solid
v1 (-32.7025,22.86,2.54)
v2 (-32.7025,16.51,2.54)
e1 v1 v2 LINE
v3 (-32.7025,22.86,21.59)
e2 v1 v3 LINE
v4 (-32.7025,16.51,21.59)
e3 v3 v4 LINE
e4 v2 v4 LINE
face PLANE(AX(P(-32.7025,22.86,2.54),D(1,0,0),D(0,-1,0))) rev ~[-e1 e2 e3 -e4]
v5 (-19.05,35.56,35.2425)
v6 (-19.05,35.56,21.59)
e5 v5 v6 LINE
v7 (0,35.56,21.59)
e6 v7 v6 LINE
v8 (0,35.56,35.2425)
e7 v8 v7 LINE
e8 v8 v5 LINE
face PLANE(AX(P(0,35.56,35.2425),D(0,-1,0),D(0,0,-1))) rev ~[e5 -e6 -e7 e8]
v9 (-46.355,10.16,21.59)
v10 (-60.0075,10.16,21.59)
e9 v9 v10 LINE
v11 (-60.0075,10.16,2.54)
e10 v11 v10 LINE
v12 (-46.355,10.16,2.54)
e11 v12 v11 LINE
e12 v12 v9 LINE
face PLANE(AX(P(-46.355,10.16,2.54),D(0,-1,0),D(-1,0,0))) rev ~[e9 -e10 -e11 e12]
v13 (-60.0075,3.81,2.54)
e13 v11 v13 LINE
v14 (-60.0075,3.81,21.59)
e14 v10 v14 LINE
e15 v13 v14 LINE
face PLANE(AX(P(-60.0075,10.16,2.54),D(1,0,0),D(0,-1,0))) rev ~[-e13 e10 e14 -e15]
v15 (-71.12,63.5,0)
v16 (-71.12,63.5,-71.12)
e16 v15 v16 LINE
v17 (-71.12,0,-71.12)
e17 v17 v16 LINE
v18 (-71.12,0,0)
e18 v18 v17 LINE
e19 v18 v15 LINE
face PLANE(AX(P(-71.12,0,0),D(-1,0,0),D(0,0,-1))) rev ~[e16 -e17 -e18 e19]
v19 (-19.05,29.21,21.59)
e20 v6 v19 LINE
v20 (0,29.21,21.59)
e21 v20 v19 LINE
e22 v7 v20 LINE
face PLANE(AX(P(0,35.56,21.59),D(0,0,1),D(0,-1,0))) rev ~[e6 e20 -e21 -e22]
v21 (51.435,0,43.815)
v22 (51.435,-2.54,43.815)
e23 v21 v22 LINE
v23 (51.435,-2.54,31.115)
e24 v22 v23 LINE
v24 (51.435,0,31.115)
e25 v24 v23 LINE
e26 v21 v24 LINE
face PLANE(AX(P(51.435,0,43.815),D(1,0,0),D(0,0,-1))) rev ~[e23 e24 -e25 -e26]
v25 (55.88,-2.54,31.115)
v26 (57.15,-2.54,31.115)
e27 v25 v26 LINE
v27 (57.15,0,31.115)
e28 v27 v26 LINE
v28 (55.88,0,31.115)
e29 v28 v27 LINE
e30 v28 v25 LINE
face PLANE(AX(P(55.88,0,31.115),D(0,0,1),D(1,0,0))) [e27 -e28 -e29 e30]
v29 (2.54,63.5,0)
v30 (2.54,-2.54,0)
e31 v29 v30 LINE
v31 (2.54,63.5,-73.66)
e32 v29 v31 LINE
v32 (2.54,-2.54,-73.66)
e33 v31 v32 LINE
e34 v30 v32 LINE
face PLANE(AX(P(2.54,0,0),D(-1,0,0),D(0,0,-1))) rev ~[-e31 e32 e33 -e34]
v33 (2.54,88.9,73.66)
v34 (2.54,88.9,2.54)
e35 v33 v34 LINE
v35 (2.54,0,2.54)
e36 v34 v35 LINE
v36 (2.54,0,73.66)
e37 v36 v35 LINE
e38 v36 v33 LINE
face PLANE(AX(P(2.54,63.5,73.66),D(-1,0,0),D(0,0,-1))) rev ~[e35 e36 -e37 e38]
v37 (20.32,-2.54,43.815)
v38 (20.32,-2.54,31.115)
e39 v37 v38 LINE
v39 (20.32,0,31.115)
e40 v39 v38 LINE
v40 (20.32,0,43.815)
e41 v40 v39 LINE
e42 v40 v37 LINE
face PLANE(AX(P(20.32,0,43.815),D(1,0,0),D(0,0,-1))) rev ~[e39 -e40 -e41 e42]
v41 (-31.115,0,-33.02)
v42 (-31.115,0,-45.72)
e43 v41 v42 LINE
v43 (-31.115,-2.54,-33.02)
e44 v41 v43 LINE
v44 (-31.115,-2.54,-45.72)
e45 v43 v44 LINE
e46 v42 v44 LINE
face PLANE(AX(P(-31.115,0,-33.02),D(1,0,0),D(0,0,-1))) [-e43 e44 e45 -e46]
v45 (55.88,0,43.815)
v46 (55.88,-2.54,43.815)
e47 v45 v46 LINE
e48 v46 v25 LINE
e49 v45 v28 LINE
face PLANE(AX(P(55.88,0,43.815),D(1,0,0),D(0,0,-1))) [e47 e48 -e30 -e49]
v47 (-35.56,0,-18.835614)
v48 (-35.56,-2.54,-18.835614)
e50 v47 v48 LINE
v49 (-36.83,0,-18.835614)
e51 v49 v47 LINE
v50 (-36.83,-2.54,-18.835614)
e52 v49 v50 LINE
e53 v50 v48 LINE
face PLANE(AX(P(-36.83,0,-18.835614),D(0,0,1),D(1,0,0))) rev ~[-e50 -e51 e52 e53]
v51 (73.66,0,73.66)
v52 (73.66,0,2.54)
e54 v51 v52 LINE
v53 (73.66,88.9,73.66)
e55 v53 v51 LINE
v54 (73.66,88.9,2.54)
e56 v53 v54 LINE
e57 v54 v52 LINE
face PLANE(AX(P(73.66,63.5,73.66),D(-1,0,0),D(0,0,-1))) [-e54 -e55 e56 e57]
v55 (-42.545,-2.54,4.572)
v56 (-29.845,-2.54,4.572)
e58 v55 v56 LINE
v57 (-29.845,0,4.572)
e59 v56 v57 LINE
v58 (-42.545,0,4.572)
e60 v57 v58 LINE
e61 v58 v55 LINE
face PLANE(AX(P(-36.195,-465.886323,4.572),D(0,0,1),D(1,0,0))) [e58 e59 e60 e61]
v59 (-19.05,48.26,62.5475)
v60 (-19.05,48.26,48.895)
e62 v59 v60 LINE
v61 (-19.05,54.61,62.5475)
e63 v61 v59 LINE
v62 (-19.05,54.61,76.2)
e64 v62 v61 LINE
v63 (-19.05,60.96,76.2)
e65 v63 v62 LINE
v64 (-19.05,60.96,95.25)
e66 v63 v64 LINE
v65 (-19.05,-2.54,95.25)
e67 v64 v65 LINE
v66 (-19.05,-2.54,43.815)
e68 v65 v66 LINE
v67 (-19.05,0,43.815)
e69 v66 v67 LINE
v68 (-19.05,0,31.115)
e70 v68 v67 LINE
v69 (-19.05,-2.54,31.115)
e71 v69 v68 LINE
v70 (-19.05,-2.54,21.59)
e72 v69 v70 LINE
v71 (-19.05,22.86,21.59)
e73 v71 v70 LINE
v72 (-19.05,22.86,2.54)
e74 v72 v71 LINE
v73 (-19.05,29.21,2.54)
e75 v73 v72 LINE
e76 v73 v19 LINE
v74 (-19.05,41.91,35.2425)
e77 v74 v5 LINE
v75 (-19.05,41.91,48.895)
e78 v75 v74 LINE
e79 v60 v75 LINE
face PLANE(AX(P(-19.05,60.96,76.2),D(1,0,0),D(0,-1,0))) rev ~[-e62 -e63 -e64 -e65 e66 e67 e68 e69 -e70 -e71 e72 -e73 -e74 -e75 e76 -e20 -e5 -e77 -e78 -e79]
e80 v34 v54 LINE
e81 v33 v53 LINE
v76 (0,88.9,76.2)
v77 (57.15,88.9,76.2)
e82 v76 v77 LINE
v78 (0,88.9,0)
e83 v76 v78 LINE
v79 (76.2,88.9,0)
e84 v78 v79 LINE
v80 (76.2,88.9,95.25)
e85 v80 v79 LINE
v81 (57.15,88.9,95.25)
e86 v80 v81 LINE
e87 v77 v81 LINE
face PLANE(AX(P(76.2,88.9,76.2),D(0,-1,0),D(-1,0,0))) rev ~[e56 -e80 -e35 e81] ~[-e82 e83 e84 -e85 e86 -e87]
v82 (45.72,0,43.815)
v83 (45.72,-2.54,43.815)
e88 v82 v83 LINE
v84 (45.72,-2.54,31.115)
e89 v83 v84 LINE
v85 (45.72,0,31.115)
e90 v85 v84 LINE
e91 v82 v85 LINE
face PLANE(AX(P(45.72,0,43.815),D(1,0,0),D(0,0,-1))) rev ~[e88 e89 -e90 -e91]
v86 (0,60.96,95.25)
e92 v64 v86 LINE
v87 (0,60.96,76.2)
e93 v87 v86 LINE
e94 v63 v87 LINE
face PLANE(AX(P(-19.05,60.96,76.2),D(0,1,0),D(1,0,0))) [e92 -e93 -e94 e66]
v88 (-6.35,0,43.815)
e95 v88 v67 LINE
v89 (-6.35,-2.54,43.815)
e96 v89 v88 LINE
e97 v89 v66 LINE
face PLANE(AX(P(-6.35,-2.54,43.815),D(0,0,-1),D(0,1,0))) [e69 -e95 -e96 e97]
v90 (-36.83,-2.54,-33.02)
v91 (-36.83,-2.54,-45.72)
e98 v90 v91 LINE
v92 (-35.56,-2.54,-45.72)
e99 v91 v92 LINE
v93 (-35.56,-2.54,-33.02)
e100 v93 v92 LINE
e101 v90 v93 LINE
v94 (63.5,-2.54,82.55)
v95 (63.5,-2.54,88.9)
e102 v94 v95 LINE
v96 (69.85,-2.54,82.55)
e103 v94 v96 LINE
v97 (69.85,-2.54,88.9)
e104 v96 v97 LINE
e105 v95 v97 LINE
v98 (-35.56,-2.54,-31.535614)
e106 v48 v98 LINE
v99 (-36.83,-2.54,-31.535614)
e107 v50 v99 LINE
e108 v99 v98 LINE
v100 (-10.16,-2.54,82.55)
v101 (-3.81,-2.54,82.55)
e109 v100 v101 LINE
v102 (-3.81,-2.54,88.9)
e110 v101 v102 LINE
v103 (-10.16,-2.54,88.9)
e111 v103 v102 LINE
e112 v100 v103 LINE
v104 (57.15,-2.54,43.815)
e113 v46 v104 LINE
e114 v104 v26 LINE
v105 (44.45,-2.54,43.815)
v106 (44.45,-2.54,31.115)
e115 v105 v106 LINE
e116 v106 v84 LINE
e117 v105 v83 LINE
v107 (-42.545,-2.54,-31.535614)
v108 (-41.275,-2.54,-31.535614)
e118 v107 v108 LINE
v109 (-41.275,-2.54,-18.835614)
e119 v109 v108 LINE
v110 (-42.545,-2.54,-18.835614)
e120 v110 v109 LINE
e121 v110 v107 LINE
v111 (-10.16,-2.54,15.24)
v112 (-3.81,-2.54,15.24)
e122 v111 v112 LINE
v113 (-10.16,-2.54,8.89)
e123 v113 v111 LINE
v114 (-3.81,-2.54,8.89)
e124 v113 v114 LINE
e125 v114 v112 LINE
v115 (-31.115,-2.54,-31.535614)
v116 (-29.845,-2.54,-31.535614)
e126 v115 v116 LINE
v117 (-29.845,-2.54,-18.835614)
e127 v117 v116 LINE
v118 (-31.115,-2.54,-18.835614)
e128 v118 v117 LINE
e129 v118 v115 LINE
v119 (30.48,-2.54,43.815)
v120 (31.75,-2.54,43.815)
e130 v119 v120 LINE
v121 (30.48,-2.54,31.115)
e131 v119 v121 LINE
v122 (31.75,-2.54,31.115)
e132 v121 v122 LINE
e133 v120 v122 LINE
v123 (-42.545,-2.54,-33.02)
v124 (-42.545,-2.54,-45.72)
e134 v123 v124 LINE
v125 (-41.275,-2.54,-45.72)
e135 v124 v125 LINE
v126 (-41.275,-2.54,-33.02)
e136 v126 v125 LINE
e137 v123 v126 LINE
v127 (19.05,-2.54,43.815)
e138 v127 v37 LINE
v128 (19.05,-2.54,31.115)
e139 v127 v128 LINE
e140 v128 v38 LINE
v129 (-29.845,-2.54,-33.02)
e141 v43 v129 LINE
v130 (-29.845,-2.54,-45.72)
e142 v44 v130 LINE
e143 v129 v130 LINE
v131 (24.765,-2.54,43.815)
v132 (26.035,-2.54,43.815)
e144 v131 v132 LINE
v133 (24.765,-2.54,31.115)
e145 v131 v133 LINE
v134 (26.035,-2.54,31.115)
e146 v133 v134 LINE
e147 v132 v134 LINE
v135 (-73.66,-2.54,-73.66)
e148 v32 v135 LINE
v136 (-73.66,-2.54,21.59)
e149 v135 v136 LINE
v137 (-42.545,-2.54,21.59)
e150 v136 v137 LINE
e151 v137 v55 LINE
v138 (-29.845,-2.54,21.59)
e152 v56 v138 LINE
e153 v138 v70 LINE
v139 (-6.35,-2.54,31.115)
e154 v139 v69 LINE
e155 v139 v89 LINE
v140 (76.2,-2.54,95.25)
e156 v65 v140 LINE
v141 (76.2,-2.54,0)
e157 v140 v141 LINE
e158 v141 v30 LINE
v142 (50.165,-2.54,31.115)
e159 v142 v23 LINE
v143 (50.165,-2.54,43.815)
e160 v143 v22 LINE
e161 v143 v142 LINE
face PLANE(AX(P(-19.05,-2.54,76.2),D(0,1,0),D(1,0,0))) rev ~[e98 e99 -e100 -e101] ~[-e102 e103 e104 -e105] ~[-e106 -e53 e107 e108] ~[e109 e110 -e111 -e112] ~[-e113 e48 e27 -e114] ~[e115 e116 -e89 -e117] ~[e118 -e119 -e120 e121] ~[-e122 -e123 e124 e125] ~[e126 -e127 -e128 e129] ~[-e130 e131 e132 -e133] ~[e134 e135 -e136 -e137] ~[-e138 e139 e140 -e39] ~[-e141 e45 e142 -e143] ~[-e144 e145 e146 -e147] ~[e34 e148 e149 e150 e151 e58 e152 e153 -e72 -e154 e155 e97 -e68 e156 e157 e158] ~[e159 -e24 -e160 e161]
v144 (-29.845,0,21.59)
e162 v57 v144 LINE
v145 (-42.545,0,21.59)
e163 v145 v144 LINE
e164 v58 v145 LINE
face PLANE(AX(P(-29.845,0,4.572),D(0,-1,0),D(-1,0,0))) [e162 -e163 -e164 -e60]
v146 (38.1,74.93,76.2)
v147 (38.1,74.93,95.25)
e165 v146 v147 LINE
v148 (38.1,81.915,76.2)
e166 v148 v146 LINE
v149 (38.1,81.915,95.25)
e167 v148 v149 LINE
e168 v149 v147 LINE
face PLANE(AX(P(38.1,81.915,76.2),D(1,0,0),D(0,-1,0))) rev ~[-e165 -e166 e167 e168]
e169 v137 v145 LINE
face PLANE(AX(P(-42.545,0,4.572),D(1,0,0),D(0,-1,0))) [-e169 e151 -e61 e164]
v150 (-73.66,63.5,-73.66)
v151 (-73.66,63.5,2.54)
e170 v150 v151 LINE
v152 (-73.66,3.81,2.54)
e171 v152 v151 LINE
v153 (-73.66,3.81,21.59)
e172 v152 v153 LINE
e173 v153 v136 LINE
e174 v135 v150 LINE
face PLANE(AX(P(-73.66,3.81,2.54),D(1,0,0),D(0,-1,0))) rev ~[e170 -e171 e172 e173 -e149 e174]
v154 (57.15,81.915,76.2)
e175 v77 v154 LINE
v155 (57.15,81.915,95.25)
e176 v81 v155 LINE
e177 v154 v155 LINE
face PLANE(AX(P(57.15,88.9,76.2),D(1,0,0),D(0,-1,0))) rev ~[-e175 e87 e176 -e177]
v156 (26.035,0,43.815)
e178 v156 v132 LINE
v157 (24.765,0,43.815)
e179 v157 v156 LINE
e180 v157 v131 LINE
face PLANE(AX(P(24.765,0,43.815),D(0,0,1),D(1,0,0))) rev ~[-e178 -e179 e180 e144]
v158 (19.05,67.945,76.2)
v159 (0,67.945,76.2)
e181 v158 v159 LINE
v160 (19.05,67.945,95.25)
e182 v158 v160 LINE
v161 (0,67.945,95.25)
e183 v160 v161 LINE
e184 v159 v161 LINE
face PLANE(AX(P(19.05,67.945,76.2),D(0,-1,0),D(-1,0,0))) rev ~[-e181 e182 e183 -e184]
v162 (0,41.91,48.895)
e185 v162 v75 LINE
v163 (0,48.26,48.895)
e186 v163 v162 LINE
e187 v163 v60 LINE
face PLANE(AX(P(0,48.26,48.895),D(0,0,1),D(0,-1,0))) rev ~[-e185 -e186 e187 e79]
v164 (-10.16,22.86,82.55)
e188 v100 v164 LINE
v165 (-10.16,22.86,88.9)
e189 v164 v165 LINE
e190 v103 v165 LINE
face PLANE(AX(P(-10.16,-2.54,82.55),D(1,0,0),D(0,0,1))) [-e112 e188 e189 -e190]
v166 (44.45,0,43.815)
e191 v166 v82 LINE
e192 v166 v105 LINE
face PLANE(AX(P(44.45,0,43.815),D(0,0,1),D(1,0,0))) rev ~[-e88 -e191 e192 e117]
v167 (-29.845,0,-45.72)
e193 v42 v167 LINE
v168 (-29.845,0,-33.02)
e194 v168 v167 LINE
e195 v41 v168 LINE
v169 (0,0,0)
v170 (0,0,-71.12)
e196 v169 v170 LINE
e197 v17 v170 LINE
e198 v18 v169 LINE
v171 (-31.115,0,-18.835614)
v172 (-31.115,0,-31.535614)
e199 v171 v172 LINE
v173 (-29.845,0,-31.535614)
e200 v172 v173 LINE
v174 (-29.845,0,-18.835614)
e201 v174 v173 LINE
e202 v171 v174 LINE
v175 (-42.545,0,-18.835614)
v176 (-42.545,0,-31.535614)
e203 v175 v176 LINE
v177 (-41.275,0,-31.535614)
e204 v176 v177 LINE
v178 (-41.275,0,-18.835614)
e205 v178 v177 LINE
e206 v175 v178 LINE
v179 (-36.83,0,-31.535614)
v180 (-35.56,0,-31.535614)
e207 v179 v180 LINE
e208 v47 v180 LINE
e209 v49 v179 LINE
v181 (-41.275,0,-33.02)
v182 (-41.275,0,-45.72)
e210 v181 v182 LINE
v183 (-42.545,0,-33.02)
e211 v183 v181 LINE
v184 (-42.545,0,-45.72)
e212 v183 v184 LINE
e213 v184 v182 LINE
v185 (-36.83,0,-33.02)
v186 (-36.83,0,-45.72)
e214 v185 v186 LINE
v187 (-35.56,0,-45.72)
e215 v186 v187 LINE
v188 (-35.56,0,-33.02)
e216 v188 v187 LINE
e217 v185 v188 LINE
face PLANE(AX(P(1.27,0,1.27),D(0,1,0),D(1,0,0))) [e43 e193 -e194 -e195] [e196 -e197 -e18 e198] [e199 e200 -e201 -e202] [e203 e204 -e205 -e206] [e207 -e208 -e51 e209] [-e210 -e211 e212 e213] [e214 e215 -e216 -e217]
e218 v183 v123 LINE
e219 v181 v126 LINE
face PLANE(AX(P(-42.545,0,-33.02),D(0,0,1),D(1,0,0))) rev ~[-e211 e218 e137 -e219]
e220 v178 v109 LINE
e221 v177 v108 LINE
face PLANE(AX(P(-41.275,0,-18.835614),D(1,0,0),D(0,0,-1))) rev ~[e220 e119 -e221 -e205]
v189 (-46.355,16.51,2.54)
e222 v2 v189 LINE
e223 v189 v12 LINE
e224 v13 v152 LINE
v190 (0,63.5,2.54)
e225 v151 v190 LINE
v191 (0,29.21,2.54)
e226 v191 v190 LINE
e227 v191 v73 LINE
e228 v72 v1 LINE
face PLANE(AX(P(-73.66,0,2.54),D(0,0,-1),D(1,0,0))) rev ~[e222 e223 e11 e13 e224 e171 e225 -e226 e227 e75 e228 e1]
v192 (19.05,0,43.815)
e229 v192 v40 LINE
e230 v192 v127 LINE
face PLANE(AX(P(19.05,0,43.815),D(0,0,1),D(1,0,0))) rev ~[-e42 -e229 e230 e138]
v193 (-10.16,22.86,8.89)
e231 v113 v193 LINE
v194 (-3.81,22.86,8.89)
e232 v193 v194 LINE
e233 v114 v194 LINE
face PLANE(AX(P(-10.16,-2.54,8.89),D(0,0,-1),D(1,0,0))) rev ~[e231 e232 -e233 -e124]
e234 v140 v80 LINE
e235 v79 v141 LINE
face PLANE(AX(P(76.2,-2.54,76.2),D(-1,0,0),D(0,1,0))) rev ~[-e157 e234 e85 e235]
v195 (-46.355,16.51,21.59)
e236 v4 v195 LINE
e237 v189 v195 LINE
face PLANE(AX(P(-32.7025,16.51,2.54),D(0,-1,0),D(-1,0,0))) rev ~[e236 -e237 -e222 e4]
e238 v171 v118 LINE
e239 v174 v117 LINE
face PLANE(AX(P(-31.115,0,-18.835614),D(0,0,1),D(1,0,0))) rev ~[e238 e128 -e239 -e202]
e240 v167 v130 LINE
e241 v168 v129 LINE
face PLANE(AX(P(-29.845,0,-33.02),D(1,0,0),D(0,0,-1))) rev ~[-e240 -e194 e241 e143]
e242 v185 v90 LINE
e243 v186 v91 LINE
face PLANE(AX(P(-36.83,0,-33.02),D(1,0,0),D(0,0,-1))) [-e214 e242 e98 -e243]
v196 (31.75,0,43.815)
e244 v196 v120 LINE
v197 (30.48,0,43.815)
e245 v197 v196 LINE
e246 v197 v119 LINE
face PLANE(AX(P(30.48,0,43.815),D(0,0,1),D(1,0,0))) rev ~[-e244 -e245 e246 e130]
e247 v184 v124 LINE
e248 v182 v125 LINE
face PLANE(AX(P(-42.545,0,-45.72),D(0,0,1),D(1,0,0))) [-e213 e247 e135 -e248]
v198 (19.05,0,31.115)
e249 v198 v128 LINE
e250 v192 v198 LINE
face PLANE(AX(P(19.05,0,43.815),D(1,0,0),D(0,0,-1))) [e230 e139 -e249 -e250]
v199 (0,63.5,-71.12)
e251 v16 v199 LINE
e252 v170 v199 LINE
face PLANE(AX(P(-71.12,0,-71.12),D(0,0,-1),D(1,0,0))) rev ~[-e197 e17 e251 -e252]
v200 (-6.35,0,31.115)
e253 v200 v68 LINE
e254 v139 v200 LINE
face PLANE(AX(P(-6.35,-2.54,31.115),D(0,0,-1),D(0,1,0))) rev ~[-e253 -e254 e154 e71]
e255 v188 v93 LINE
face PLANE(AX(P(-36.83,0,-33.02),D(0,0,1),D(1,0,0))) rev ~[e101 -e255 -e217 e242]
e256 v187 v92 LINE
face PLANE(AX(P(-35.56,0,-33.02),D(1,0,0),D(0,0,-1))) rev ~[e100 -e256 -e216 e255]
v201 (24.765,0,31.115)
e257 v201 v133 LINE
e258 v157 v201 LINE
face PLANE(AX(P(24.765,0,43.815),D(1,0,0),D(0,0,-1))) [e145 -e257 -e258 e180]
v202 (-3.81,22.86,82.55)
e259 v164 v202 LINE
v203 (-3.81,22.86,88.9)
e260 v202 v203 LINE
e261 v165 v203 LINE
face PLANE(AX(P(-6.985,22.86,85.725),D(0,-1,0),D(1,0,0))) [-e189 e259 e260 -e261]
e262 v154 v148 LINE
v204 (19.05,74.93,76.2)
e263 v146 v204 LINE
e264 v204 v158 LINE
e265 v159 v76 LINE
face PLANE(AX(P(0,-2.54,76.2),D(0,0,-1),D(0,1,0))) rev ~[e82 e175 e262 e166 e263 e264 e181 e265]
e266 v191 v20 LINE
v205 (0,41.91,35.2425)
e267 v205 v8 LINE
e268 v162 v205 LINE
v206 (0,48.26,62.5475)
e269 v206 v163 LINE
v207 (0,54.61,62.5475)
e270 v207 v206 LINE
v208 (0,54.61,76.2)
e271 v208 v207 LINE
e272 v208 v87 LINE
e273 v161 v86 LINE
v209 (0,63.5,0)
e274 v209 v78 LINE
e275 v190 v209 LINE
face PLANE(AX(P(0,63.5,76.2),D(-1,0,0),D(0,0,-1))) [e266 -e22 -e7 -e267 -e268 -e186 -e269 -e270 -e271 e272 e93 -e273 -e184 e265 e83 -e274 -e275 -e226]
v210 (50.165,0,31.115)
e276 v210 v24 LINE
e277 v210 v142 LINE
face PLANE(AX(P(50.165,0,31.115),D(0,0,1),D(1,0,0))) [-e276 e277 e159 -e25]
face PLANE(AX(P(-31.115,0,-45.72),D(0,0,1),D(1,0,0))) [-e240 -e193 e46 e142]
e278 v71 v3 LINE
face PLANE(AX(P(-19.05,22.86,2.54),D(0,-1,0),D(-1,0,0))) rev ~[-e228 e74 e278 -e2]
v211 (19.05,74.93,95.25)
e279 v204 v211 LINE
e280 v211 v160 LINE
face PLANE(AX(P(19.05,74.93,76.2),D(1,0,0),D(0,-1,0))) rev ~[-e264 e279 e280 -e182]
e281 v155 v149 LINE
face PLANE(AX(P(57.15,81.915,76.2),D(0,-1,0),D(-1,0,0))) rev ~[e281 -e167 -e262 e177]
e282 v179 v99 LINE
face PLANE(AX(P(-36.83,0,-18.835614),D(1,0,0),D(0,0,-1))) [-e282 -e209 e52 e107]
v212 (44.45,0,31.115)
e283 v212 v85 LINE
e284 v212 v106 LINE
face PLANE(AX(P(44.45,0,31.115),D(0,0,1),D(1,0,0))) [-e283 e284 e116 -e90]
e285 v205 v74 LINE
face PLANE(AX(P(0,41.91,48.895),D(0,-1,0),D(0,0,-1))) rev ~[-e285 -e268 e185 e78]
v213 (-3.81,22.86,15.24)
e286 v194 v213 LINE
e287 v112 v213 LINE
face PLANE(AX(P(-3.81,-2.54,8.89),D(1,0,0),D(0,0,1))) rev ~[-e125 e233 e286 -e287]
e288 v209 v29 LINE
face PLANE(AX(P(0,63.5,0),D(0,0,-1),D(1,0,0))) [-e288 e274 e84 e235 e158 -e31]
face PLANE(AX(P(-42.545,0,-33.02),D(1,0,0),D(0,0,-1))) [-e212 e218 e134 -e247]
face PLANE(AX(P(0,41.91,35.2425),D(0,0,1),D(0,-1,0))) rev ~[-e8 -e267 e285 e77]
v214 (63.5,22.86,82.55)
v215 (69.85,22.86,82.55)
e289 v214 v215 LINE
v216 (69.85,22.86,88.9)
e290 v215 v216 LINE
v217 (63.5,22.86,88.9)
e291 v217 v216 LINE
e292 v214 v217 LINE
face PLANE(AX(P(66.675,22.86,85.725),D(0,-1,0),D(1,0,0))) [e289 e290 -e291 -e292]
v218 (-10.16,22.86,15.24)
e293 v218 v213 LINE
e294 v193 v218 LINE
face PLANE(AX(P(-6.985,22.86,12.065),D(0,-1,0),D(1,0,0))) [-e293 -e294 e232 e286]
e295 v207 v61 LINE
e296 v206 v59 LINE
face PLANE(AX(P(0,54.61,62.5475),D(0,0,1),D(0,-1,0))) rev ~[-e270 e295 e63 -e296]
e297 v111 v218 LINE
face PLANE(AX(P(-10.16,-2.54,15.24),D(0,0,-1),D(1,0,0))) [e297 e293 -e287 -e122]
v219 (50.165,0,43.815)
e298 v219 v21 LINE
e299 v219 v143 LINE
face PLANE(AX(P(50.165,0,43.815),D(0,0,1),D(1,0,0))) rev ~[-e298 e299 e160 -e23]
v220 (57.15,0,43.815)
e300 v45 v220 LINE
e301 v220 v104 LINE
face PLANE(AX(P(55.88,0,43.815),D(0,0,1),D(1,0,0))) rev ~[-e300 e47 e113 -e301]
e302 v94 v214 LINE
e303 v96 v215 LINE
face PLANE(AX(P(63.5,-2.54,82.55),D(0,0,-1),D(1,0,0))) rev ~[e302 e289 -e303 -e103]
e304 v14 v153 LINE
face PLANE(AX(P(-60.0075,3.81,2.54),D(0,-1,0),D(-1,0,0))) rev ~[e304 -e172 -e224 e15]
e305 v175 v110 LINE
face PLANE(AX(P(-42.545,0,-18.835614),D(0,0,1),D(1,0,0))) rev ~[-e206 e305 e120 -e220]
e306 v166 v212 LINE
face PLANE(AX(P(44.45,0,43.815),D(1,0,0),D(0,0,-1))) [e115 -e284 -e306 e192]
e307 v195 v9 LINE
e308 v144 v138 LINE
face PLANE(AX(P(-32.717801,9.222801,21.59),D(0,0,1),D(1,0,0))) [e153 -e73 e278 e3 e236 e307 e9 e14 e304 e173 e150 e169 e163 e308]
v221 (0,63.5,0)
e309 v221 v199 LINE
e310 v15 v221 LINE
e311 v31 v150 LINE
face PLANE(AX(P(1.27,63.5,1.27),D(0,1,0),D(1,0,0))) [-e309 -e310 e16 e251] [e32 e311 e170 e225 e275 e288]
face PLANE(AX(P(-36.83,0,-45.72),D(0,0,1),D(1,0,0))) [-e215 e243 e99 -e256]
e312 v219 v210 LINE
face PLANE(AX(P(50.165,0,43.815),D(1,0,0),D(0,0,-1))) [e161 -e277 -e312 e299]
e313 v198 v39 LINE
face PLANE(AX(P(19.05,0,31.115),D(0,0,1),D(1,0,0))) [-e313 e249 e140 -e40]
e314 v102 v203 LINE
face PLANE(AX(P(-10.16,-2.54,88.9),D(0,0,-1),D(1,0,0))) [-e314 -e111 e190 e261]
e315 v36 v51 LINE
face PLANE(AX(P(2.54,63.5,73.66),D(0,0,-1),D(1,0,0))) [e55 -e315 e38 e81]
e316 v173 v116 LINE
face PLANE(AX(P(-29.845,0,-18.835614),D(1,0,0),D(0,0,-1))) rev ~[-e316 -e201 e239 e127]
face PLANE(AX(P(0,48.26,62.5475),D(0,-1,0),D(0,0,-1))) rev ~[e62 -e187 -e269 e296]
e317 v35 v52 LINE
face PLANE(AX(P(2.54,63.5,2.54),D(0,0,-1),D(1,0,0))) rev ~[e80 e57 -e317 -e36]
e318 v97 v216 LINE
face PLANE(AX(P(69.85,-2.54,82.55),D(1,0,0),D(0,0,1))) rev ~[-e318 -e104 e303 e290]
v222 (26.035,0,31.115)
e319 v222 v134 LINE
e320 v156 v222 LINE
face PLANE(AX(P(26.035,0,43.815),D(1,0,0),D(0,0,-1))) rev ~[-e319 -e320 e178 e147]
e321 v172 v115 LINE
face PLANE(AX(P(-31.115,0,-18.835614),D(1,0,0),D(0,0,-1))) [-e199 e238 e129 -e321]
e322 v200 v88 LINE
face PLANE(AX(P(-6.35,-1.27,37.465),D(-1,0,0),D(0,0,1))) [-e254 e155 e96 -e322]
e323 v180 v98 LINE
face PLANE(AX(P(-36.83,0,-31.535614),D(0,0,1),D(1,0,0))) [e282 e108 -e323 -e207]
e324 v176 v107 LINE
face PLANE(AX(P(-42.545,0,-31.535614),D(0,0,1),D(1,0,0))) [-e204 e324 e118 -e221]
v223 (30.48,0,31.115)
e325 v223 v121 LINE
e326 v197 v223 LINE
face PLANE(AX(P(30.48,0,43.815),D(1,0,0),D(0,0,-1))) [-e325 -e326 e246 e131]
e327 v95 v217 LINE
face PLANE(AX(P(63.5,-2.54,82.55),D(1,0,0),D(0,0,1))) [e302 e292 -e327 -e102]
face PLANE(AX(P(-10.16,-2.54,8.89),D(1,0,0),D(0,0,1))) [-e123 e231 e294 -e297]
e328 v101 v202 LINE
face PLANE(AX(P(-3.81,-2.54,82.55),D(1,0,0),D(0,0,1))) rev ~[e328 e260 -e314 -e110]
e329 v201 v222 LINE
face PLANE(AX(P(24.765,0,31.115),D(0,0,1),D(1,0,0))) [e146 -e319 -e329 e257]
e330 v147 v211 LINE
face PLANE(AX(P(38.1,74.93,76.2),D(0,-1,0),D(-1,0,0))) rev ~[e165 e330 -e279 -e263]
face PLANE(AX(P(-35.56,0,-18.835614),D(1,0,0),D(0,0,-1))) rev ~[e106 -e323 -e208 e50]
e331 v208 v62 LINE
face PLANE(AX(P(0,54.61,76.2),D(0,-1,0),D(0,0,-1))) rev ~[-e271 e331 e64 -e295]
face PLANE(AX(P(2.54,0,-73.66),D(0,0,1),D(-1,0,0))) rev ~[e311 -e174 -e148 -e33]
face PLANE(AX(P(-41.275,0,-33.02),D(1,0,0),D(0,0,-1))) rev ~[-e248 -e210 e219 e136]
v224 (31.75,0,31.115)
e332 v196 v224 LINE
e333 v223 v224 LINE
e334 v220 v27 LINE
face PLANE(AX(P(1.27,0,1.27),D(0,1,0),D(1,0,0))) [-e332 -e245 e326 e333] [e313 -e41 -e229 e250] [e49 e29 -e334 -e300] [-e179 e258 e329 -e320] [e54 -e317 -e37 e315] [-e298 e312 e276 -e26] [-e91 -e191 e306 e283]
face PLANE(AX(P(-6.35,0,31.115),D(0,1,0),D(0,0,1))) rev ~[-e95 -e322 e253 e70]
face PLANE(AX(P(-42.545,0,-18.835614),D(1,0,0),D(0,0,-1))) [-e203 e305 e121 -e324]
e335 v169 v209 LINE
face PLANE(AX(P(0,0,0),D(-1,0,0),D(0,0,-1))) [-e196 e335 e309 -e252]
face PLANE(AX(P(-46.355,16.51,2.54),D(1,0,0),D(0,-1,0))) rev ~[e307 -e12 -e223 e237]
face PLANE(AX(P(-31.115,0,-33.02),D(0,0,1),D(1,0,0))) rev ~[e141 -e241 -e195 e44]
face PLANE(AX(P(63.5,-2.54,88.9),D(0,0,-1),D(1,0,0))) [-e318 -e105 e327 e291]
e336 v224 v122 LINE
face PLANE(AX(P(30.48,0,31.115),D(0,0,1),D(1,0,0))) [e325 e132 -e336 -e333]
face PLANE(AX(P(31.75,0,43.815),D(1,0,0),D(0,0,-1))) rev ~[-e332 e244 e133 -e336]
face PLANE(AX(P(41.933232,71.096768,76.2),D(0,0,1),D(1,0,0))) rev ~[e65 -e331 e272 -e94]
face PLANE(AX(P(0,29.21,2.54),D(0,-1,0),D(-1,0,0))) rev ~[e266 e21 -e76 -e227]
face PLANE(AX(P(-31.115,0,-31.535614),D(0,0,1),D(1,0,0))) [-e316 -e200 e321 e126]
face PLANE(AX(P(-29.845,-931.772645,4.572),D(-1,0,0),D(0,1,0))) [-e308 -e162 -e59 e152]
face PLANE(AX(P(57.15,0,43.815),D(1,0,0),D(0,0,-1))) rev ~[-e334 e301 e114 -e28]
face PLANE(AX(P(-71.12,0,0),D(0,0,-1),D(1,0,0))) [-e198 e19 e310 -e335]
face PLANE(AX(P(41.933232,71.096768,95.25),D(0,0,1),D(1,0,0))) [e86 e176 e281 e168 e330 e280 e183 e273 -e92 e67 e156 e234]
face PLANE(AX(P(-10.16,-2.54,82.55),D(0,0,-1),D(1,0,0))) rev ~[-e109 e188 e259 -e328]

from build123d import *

# Parameters (mm, degrees)
BOSS_EXTRUDE1_DEPTH     = 2.54
SKETCH1_9_W             = 71.12
SKETCH1_9_H             = 71.12
BOSS_EXTRUDE3_DEPTH     = 63.5
SKETCH5_W               = 76.2
SKETCH5_H               = 76.2
SKETCH5_W_2             = 71.12
SKETCH5_H_2             = 71.12
BOSS_EXTRUDE4_DEPTH     = 25.4
BOSS_EXTRUDE7_DEPTH     = 19.05
BOSS_EXTRUDE11_DEPTH    = 19.05
SKETCH15_W              = 19.05
SKETCH15_H              = 6.35
BOSS_EXTRUDE12_DEPTH    = 19.05
SKETCH16_W              = 1.27
SKETCH16_H              = 12.7
CUT_EXTRUDE1_DEPTH      = 151.937776915
SKETCH17_W              = 6.35
SKETCH17_H              = 6.35
CUT_EXTRUDE2_DEPTH      = 25.4
CUT_EXTRUDE3_DEPTH      = 151.937776915
CUT_EXTRUDE3_DEPTH_BACK = 17.018
CUT_EXTRUDE4_DEPTH      = 162.394965845
CUT_EXTRUDE4_DEPTH_BACK = 12.7
SKETCH20_W              = 12.7
SKETCH20_H              = 2.54


with BuildPart() as part:
    # Sketch1 → Boss-Extrude1 (new body)
    with BuildSketch(Plane(origin=(0, 0, 0), x_dir=(1, 0, 0), z_dir=(0, 1, 0))):
        Polygon((-73.66, 73.66), (-73.66, -2.54), (0, -2.54), (0, -76.2), (76.2, -76.2), (76.2, 0), (2.54, 0), (2.54, 73.66), align=None)
    extrude(amount=-BOSS_EXTRUDE1_DEPTH)

    # Sketch1<9> → Boss-Extrude3 (add)
    with BuildSketch(Plane(origin=(0, 0, 0), x_dir=(1, 0, 0), z_dir=(0, 1, 0))):
        Polygon((2.54, 73.66), (-73.66, 73.66), (-73.66, -2.54), (0, -2.54), (0, -76.2), (76.2, -76.2), (76.2, 0), (2.54, 0), align=None)
        with Locations((38.1, -38.1)):
            Rectangle(SKETCH1_9_W, SKETCH1_9_H, mode=Mode.SUBTRACT)
        with Locations((-35.56, 35.56)):
            Rectangle(SKETCH1_9_W, SKETCH1_9_H, mode=Mode.SUBTRACT)
    extrude(amount=BOSS_EXTRUDE3_DEPTH)

    # Sketch5 → Boss-Extrude4 (add)
    with BuildSketch(Plane(origin=(0, 63.5, 0), x_dir=(1, 0, 0), z_dir=(0, 1, 0))):
        with Locations((38.1, -38.1)):
            Rectangle(SKETCH5_W, SKETCH5_H)
        with Locations((38.1, -38.1)):
            Rectangle(SKETCH5_W_2, SKETCH5_H_2, mode=Mode.SUBTRACT)
    extrude(amount=BOSS_EXTRUDE4_DEPTH)

    # Sketch9 → Boss-Extrude7 (add)
    with BuildSketch(Plane.XY.offset(2.54)):
        Polygon((-73.66, 3.81), (-73.66, -2.54), (0, -2.54), (0, 29.21), (-19.05, 29.21), (-19.05, 22.86), (-32.7025, 22.86), (-32.7025, 16.51), (-46.355, 16.51), (-46.355, 10.16), (-60.0075, 10.16), (-60.0075, 3.81), align=None)
    extrude(amount=BOSS_EXTRUDE7_DEPTH)

    # Sketch11 → Boss-Extrude11 (add)
    with BuildSketch(Plane.ZY):
        Polygon((76.2, 29.21), (21.59, 29.21), (21.59, 0), (21.59, -2.54), (76.2, -2.54), (76.2, 0), align=None)
        Polygon((21.59, 35.56), (21.59, 29.21), (76.2, 29.21), (76.2, 48.26), (76.2, 54.61), (62.5475, 54.61), (62.5475, 48.26), (48.895, 48.26), (48.895, 41.91), (35.2425, 41.91), (35.2425, 35.56), align=None)
    extrude(amount=BOSS_EXTRUDE11_DEPTH)

    # Sketch15 → Boss-Extrude12 (add)
    with BuildSketch(Plane.XY.offset(76.2)):
        Polygon((0, 60.96), (76.2, 60.96), (76.2, 88.9), (57.15, 88.9), (57.15, 81.915), (38.1, 81.915), (38.1, 74.93), (19.05, 74.93), (19.05, 67.945), (0, 67.945), align=None)
        Polygon((-19.05, 54.61), (-19.05, -2.54), (76.2, -2.54), (76.2, 60.96), (0, 60.96), (0, 54.61), align=None)
        with Locations((-9.525, 57.785)):
            Rectangle(SKETCH15_W, SKETCH15_H)
    extrude(amount=BOSS_EXTRUDE12_DEPTH)

    # Sketch16 → Cut-Extrude1 (cut, through all)
    with BuildSketch(Plane(origin=(0, 0, 0), x_dir=(1, 0, 0), z_dir=(0, 1, 0))):
        with Locations((-41.91, 25.185614026)):
            Rectangle(SKETCH16_W, SKETCH16_H)
        with Locations((-41.91, 39.37)):
            Rectangle(SKETCH16_W, SKETCH16_H)
        with Locations((-36.195, 39.37)):
            Rectangle(SKETCH16_W, SKETCH16_H)
        with Locations((-30.48, 39.37)):
            Rectangle(SKETCH16_W, SKETCH16_H)
        with Locations((-36.195, 25.185614026)):
            Rectangle(SKETCH16_W, SKETCH16_H)
        with Locations((-30.48, 25.185614026)):
            Rectangle(SKETCH16_W, SKETCH16_H)
        with Locations((19.685, -37.465)):
            Rectangle(SKETCH16_W, SKETCH16_H)
        with Locations((25.4, -37.465)):
            Rectangle(SKETCH16_W, SKETCH16_H)
        with Locations((31.115, -37.465)):
            Rectangle(SKETCH16_W, SKETCH16_H)
        with Locations((45.085, -37.465)):
            Rectangle(SKETCH16_W, SKETCH16_H)
        with Locations((50.8, -37.465)):
            Rectangle(SKETCH16_W, SKETCH16_H)
        with Locations((56.515, -37.465)):
            Rectangle(SKETCH16_W, SKETCH16_H)
    extrude(amount=-CUT_EXTRUDE1_DEPTH, mode=Mode.SUBTRACT)

    # Sketch17 → Cut-Extrude2 (cut)
    with BuildSketch(Plane.XZ.offset(2.54)):
        with Locations((-6.985, 12.065)):
            Rectangle(SKETCH17_W, SKETCH17_H)
        with Locations((-6.985, 85.725)):
            Rectangle(SKETCH17_W, SKETCH17_H)
        with Locations((66.675, 85.725)):
            Rectangle(SKETCH17_W, SKETCH17_H)
    extrude(amount=-CUT_EXTRUDE2_DEPTH, mode=Mode.SUBTRACT)

    # Sketch19 → Cut-Extrude3 (cut, two sides: drawn at the far end of the back side and taken through both)
    with BuildSketch(Plane.XY.offset(21.59).offset(-CUT_EXTRUDE3_DEPTH_BACK)):
        Polygon((-29.845, -312.284215123), (-29.845, -2.54), (-29.845, 0), (-42.545, 0), (-42.545, -2.54), (-42.545, -312.284215123), (-42.545, -931.77264537), (-29.845, -931.77264537), align=None)
    extrude(amount=CUT_EXTRUDE3_DEPTH + CUT_EXTRUDE3_DEPTH_BACK, mode=Mode.SUBTRACT)

    # Sketch20 → Cut-Extrude4 (cut, two sides: drawn at the far end of the back side and taken through both)
    with BuildSketch(Plane.ZY.offset(19.05).offset(-CUT_EXTRUDE4_DEPTH_BACK)):
        with Locations((37.465, -1.27)):
            Rectangle(SKETCH20_W, SKETCH20_H)
    extrude(amount=CUT_EXTRUDE4_DEPTH + CUT_EXTRUDE4_DEPTH_BACK, mode=Mode.SUBTRACT)


solid = part.part
